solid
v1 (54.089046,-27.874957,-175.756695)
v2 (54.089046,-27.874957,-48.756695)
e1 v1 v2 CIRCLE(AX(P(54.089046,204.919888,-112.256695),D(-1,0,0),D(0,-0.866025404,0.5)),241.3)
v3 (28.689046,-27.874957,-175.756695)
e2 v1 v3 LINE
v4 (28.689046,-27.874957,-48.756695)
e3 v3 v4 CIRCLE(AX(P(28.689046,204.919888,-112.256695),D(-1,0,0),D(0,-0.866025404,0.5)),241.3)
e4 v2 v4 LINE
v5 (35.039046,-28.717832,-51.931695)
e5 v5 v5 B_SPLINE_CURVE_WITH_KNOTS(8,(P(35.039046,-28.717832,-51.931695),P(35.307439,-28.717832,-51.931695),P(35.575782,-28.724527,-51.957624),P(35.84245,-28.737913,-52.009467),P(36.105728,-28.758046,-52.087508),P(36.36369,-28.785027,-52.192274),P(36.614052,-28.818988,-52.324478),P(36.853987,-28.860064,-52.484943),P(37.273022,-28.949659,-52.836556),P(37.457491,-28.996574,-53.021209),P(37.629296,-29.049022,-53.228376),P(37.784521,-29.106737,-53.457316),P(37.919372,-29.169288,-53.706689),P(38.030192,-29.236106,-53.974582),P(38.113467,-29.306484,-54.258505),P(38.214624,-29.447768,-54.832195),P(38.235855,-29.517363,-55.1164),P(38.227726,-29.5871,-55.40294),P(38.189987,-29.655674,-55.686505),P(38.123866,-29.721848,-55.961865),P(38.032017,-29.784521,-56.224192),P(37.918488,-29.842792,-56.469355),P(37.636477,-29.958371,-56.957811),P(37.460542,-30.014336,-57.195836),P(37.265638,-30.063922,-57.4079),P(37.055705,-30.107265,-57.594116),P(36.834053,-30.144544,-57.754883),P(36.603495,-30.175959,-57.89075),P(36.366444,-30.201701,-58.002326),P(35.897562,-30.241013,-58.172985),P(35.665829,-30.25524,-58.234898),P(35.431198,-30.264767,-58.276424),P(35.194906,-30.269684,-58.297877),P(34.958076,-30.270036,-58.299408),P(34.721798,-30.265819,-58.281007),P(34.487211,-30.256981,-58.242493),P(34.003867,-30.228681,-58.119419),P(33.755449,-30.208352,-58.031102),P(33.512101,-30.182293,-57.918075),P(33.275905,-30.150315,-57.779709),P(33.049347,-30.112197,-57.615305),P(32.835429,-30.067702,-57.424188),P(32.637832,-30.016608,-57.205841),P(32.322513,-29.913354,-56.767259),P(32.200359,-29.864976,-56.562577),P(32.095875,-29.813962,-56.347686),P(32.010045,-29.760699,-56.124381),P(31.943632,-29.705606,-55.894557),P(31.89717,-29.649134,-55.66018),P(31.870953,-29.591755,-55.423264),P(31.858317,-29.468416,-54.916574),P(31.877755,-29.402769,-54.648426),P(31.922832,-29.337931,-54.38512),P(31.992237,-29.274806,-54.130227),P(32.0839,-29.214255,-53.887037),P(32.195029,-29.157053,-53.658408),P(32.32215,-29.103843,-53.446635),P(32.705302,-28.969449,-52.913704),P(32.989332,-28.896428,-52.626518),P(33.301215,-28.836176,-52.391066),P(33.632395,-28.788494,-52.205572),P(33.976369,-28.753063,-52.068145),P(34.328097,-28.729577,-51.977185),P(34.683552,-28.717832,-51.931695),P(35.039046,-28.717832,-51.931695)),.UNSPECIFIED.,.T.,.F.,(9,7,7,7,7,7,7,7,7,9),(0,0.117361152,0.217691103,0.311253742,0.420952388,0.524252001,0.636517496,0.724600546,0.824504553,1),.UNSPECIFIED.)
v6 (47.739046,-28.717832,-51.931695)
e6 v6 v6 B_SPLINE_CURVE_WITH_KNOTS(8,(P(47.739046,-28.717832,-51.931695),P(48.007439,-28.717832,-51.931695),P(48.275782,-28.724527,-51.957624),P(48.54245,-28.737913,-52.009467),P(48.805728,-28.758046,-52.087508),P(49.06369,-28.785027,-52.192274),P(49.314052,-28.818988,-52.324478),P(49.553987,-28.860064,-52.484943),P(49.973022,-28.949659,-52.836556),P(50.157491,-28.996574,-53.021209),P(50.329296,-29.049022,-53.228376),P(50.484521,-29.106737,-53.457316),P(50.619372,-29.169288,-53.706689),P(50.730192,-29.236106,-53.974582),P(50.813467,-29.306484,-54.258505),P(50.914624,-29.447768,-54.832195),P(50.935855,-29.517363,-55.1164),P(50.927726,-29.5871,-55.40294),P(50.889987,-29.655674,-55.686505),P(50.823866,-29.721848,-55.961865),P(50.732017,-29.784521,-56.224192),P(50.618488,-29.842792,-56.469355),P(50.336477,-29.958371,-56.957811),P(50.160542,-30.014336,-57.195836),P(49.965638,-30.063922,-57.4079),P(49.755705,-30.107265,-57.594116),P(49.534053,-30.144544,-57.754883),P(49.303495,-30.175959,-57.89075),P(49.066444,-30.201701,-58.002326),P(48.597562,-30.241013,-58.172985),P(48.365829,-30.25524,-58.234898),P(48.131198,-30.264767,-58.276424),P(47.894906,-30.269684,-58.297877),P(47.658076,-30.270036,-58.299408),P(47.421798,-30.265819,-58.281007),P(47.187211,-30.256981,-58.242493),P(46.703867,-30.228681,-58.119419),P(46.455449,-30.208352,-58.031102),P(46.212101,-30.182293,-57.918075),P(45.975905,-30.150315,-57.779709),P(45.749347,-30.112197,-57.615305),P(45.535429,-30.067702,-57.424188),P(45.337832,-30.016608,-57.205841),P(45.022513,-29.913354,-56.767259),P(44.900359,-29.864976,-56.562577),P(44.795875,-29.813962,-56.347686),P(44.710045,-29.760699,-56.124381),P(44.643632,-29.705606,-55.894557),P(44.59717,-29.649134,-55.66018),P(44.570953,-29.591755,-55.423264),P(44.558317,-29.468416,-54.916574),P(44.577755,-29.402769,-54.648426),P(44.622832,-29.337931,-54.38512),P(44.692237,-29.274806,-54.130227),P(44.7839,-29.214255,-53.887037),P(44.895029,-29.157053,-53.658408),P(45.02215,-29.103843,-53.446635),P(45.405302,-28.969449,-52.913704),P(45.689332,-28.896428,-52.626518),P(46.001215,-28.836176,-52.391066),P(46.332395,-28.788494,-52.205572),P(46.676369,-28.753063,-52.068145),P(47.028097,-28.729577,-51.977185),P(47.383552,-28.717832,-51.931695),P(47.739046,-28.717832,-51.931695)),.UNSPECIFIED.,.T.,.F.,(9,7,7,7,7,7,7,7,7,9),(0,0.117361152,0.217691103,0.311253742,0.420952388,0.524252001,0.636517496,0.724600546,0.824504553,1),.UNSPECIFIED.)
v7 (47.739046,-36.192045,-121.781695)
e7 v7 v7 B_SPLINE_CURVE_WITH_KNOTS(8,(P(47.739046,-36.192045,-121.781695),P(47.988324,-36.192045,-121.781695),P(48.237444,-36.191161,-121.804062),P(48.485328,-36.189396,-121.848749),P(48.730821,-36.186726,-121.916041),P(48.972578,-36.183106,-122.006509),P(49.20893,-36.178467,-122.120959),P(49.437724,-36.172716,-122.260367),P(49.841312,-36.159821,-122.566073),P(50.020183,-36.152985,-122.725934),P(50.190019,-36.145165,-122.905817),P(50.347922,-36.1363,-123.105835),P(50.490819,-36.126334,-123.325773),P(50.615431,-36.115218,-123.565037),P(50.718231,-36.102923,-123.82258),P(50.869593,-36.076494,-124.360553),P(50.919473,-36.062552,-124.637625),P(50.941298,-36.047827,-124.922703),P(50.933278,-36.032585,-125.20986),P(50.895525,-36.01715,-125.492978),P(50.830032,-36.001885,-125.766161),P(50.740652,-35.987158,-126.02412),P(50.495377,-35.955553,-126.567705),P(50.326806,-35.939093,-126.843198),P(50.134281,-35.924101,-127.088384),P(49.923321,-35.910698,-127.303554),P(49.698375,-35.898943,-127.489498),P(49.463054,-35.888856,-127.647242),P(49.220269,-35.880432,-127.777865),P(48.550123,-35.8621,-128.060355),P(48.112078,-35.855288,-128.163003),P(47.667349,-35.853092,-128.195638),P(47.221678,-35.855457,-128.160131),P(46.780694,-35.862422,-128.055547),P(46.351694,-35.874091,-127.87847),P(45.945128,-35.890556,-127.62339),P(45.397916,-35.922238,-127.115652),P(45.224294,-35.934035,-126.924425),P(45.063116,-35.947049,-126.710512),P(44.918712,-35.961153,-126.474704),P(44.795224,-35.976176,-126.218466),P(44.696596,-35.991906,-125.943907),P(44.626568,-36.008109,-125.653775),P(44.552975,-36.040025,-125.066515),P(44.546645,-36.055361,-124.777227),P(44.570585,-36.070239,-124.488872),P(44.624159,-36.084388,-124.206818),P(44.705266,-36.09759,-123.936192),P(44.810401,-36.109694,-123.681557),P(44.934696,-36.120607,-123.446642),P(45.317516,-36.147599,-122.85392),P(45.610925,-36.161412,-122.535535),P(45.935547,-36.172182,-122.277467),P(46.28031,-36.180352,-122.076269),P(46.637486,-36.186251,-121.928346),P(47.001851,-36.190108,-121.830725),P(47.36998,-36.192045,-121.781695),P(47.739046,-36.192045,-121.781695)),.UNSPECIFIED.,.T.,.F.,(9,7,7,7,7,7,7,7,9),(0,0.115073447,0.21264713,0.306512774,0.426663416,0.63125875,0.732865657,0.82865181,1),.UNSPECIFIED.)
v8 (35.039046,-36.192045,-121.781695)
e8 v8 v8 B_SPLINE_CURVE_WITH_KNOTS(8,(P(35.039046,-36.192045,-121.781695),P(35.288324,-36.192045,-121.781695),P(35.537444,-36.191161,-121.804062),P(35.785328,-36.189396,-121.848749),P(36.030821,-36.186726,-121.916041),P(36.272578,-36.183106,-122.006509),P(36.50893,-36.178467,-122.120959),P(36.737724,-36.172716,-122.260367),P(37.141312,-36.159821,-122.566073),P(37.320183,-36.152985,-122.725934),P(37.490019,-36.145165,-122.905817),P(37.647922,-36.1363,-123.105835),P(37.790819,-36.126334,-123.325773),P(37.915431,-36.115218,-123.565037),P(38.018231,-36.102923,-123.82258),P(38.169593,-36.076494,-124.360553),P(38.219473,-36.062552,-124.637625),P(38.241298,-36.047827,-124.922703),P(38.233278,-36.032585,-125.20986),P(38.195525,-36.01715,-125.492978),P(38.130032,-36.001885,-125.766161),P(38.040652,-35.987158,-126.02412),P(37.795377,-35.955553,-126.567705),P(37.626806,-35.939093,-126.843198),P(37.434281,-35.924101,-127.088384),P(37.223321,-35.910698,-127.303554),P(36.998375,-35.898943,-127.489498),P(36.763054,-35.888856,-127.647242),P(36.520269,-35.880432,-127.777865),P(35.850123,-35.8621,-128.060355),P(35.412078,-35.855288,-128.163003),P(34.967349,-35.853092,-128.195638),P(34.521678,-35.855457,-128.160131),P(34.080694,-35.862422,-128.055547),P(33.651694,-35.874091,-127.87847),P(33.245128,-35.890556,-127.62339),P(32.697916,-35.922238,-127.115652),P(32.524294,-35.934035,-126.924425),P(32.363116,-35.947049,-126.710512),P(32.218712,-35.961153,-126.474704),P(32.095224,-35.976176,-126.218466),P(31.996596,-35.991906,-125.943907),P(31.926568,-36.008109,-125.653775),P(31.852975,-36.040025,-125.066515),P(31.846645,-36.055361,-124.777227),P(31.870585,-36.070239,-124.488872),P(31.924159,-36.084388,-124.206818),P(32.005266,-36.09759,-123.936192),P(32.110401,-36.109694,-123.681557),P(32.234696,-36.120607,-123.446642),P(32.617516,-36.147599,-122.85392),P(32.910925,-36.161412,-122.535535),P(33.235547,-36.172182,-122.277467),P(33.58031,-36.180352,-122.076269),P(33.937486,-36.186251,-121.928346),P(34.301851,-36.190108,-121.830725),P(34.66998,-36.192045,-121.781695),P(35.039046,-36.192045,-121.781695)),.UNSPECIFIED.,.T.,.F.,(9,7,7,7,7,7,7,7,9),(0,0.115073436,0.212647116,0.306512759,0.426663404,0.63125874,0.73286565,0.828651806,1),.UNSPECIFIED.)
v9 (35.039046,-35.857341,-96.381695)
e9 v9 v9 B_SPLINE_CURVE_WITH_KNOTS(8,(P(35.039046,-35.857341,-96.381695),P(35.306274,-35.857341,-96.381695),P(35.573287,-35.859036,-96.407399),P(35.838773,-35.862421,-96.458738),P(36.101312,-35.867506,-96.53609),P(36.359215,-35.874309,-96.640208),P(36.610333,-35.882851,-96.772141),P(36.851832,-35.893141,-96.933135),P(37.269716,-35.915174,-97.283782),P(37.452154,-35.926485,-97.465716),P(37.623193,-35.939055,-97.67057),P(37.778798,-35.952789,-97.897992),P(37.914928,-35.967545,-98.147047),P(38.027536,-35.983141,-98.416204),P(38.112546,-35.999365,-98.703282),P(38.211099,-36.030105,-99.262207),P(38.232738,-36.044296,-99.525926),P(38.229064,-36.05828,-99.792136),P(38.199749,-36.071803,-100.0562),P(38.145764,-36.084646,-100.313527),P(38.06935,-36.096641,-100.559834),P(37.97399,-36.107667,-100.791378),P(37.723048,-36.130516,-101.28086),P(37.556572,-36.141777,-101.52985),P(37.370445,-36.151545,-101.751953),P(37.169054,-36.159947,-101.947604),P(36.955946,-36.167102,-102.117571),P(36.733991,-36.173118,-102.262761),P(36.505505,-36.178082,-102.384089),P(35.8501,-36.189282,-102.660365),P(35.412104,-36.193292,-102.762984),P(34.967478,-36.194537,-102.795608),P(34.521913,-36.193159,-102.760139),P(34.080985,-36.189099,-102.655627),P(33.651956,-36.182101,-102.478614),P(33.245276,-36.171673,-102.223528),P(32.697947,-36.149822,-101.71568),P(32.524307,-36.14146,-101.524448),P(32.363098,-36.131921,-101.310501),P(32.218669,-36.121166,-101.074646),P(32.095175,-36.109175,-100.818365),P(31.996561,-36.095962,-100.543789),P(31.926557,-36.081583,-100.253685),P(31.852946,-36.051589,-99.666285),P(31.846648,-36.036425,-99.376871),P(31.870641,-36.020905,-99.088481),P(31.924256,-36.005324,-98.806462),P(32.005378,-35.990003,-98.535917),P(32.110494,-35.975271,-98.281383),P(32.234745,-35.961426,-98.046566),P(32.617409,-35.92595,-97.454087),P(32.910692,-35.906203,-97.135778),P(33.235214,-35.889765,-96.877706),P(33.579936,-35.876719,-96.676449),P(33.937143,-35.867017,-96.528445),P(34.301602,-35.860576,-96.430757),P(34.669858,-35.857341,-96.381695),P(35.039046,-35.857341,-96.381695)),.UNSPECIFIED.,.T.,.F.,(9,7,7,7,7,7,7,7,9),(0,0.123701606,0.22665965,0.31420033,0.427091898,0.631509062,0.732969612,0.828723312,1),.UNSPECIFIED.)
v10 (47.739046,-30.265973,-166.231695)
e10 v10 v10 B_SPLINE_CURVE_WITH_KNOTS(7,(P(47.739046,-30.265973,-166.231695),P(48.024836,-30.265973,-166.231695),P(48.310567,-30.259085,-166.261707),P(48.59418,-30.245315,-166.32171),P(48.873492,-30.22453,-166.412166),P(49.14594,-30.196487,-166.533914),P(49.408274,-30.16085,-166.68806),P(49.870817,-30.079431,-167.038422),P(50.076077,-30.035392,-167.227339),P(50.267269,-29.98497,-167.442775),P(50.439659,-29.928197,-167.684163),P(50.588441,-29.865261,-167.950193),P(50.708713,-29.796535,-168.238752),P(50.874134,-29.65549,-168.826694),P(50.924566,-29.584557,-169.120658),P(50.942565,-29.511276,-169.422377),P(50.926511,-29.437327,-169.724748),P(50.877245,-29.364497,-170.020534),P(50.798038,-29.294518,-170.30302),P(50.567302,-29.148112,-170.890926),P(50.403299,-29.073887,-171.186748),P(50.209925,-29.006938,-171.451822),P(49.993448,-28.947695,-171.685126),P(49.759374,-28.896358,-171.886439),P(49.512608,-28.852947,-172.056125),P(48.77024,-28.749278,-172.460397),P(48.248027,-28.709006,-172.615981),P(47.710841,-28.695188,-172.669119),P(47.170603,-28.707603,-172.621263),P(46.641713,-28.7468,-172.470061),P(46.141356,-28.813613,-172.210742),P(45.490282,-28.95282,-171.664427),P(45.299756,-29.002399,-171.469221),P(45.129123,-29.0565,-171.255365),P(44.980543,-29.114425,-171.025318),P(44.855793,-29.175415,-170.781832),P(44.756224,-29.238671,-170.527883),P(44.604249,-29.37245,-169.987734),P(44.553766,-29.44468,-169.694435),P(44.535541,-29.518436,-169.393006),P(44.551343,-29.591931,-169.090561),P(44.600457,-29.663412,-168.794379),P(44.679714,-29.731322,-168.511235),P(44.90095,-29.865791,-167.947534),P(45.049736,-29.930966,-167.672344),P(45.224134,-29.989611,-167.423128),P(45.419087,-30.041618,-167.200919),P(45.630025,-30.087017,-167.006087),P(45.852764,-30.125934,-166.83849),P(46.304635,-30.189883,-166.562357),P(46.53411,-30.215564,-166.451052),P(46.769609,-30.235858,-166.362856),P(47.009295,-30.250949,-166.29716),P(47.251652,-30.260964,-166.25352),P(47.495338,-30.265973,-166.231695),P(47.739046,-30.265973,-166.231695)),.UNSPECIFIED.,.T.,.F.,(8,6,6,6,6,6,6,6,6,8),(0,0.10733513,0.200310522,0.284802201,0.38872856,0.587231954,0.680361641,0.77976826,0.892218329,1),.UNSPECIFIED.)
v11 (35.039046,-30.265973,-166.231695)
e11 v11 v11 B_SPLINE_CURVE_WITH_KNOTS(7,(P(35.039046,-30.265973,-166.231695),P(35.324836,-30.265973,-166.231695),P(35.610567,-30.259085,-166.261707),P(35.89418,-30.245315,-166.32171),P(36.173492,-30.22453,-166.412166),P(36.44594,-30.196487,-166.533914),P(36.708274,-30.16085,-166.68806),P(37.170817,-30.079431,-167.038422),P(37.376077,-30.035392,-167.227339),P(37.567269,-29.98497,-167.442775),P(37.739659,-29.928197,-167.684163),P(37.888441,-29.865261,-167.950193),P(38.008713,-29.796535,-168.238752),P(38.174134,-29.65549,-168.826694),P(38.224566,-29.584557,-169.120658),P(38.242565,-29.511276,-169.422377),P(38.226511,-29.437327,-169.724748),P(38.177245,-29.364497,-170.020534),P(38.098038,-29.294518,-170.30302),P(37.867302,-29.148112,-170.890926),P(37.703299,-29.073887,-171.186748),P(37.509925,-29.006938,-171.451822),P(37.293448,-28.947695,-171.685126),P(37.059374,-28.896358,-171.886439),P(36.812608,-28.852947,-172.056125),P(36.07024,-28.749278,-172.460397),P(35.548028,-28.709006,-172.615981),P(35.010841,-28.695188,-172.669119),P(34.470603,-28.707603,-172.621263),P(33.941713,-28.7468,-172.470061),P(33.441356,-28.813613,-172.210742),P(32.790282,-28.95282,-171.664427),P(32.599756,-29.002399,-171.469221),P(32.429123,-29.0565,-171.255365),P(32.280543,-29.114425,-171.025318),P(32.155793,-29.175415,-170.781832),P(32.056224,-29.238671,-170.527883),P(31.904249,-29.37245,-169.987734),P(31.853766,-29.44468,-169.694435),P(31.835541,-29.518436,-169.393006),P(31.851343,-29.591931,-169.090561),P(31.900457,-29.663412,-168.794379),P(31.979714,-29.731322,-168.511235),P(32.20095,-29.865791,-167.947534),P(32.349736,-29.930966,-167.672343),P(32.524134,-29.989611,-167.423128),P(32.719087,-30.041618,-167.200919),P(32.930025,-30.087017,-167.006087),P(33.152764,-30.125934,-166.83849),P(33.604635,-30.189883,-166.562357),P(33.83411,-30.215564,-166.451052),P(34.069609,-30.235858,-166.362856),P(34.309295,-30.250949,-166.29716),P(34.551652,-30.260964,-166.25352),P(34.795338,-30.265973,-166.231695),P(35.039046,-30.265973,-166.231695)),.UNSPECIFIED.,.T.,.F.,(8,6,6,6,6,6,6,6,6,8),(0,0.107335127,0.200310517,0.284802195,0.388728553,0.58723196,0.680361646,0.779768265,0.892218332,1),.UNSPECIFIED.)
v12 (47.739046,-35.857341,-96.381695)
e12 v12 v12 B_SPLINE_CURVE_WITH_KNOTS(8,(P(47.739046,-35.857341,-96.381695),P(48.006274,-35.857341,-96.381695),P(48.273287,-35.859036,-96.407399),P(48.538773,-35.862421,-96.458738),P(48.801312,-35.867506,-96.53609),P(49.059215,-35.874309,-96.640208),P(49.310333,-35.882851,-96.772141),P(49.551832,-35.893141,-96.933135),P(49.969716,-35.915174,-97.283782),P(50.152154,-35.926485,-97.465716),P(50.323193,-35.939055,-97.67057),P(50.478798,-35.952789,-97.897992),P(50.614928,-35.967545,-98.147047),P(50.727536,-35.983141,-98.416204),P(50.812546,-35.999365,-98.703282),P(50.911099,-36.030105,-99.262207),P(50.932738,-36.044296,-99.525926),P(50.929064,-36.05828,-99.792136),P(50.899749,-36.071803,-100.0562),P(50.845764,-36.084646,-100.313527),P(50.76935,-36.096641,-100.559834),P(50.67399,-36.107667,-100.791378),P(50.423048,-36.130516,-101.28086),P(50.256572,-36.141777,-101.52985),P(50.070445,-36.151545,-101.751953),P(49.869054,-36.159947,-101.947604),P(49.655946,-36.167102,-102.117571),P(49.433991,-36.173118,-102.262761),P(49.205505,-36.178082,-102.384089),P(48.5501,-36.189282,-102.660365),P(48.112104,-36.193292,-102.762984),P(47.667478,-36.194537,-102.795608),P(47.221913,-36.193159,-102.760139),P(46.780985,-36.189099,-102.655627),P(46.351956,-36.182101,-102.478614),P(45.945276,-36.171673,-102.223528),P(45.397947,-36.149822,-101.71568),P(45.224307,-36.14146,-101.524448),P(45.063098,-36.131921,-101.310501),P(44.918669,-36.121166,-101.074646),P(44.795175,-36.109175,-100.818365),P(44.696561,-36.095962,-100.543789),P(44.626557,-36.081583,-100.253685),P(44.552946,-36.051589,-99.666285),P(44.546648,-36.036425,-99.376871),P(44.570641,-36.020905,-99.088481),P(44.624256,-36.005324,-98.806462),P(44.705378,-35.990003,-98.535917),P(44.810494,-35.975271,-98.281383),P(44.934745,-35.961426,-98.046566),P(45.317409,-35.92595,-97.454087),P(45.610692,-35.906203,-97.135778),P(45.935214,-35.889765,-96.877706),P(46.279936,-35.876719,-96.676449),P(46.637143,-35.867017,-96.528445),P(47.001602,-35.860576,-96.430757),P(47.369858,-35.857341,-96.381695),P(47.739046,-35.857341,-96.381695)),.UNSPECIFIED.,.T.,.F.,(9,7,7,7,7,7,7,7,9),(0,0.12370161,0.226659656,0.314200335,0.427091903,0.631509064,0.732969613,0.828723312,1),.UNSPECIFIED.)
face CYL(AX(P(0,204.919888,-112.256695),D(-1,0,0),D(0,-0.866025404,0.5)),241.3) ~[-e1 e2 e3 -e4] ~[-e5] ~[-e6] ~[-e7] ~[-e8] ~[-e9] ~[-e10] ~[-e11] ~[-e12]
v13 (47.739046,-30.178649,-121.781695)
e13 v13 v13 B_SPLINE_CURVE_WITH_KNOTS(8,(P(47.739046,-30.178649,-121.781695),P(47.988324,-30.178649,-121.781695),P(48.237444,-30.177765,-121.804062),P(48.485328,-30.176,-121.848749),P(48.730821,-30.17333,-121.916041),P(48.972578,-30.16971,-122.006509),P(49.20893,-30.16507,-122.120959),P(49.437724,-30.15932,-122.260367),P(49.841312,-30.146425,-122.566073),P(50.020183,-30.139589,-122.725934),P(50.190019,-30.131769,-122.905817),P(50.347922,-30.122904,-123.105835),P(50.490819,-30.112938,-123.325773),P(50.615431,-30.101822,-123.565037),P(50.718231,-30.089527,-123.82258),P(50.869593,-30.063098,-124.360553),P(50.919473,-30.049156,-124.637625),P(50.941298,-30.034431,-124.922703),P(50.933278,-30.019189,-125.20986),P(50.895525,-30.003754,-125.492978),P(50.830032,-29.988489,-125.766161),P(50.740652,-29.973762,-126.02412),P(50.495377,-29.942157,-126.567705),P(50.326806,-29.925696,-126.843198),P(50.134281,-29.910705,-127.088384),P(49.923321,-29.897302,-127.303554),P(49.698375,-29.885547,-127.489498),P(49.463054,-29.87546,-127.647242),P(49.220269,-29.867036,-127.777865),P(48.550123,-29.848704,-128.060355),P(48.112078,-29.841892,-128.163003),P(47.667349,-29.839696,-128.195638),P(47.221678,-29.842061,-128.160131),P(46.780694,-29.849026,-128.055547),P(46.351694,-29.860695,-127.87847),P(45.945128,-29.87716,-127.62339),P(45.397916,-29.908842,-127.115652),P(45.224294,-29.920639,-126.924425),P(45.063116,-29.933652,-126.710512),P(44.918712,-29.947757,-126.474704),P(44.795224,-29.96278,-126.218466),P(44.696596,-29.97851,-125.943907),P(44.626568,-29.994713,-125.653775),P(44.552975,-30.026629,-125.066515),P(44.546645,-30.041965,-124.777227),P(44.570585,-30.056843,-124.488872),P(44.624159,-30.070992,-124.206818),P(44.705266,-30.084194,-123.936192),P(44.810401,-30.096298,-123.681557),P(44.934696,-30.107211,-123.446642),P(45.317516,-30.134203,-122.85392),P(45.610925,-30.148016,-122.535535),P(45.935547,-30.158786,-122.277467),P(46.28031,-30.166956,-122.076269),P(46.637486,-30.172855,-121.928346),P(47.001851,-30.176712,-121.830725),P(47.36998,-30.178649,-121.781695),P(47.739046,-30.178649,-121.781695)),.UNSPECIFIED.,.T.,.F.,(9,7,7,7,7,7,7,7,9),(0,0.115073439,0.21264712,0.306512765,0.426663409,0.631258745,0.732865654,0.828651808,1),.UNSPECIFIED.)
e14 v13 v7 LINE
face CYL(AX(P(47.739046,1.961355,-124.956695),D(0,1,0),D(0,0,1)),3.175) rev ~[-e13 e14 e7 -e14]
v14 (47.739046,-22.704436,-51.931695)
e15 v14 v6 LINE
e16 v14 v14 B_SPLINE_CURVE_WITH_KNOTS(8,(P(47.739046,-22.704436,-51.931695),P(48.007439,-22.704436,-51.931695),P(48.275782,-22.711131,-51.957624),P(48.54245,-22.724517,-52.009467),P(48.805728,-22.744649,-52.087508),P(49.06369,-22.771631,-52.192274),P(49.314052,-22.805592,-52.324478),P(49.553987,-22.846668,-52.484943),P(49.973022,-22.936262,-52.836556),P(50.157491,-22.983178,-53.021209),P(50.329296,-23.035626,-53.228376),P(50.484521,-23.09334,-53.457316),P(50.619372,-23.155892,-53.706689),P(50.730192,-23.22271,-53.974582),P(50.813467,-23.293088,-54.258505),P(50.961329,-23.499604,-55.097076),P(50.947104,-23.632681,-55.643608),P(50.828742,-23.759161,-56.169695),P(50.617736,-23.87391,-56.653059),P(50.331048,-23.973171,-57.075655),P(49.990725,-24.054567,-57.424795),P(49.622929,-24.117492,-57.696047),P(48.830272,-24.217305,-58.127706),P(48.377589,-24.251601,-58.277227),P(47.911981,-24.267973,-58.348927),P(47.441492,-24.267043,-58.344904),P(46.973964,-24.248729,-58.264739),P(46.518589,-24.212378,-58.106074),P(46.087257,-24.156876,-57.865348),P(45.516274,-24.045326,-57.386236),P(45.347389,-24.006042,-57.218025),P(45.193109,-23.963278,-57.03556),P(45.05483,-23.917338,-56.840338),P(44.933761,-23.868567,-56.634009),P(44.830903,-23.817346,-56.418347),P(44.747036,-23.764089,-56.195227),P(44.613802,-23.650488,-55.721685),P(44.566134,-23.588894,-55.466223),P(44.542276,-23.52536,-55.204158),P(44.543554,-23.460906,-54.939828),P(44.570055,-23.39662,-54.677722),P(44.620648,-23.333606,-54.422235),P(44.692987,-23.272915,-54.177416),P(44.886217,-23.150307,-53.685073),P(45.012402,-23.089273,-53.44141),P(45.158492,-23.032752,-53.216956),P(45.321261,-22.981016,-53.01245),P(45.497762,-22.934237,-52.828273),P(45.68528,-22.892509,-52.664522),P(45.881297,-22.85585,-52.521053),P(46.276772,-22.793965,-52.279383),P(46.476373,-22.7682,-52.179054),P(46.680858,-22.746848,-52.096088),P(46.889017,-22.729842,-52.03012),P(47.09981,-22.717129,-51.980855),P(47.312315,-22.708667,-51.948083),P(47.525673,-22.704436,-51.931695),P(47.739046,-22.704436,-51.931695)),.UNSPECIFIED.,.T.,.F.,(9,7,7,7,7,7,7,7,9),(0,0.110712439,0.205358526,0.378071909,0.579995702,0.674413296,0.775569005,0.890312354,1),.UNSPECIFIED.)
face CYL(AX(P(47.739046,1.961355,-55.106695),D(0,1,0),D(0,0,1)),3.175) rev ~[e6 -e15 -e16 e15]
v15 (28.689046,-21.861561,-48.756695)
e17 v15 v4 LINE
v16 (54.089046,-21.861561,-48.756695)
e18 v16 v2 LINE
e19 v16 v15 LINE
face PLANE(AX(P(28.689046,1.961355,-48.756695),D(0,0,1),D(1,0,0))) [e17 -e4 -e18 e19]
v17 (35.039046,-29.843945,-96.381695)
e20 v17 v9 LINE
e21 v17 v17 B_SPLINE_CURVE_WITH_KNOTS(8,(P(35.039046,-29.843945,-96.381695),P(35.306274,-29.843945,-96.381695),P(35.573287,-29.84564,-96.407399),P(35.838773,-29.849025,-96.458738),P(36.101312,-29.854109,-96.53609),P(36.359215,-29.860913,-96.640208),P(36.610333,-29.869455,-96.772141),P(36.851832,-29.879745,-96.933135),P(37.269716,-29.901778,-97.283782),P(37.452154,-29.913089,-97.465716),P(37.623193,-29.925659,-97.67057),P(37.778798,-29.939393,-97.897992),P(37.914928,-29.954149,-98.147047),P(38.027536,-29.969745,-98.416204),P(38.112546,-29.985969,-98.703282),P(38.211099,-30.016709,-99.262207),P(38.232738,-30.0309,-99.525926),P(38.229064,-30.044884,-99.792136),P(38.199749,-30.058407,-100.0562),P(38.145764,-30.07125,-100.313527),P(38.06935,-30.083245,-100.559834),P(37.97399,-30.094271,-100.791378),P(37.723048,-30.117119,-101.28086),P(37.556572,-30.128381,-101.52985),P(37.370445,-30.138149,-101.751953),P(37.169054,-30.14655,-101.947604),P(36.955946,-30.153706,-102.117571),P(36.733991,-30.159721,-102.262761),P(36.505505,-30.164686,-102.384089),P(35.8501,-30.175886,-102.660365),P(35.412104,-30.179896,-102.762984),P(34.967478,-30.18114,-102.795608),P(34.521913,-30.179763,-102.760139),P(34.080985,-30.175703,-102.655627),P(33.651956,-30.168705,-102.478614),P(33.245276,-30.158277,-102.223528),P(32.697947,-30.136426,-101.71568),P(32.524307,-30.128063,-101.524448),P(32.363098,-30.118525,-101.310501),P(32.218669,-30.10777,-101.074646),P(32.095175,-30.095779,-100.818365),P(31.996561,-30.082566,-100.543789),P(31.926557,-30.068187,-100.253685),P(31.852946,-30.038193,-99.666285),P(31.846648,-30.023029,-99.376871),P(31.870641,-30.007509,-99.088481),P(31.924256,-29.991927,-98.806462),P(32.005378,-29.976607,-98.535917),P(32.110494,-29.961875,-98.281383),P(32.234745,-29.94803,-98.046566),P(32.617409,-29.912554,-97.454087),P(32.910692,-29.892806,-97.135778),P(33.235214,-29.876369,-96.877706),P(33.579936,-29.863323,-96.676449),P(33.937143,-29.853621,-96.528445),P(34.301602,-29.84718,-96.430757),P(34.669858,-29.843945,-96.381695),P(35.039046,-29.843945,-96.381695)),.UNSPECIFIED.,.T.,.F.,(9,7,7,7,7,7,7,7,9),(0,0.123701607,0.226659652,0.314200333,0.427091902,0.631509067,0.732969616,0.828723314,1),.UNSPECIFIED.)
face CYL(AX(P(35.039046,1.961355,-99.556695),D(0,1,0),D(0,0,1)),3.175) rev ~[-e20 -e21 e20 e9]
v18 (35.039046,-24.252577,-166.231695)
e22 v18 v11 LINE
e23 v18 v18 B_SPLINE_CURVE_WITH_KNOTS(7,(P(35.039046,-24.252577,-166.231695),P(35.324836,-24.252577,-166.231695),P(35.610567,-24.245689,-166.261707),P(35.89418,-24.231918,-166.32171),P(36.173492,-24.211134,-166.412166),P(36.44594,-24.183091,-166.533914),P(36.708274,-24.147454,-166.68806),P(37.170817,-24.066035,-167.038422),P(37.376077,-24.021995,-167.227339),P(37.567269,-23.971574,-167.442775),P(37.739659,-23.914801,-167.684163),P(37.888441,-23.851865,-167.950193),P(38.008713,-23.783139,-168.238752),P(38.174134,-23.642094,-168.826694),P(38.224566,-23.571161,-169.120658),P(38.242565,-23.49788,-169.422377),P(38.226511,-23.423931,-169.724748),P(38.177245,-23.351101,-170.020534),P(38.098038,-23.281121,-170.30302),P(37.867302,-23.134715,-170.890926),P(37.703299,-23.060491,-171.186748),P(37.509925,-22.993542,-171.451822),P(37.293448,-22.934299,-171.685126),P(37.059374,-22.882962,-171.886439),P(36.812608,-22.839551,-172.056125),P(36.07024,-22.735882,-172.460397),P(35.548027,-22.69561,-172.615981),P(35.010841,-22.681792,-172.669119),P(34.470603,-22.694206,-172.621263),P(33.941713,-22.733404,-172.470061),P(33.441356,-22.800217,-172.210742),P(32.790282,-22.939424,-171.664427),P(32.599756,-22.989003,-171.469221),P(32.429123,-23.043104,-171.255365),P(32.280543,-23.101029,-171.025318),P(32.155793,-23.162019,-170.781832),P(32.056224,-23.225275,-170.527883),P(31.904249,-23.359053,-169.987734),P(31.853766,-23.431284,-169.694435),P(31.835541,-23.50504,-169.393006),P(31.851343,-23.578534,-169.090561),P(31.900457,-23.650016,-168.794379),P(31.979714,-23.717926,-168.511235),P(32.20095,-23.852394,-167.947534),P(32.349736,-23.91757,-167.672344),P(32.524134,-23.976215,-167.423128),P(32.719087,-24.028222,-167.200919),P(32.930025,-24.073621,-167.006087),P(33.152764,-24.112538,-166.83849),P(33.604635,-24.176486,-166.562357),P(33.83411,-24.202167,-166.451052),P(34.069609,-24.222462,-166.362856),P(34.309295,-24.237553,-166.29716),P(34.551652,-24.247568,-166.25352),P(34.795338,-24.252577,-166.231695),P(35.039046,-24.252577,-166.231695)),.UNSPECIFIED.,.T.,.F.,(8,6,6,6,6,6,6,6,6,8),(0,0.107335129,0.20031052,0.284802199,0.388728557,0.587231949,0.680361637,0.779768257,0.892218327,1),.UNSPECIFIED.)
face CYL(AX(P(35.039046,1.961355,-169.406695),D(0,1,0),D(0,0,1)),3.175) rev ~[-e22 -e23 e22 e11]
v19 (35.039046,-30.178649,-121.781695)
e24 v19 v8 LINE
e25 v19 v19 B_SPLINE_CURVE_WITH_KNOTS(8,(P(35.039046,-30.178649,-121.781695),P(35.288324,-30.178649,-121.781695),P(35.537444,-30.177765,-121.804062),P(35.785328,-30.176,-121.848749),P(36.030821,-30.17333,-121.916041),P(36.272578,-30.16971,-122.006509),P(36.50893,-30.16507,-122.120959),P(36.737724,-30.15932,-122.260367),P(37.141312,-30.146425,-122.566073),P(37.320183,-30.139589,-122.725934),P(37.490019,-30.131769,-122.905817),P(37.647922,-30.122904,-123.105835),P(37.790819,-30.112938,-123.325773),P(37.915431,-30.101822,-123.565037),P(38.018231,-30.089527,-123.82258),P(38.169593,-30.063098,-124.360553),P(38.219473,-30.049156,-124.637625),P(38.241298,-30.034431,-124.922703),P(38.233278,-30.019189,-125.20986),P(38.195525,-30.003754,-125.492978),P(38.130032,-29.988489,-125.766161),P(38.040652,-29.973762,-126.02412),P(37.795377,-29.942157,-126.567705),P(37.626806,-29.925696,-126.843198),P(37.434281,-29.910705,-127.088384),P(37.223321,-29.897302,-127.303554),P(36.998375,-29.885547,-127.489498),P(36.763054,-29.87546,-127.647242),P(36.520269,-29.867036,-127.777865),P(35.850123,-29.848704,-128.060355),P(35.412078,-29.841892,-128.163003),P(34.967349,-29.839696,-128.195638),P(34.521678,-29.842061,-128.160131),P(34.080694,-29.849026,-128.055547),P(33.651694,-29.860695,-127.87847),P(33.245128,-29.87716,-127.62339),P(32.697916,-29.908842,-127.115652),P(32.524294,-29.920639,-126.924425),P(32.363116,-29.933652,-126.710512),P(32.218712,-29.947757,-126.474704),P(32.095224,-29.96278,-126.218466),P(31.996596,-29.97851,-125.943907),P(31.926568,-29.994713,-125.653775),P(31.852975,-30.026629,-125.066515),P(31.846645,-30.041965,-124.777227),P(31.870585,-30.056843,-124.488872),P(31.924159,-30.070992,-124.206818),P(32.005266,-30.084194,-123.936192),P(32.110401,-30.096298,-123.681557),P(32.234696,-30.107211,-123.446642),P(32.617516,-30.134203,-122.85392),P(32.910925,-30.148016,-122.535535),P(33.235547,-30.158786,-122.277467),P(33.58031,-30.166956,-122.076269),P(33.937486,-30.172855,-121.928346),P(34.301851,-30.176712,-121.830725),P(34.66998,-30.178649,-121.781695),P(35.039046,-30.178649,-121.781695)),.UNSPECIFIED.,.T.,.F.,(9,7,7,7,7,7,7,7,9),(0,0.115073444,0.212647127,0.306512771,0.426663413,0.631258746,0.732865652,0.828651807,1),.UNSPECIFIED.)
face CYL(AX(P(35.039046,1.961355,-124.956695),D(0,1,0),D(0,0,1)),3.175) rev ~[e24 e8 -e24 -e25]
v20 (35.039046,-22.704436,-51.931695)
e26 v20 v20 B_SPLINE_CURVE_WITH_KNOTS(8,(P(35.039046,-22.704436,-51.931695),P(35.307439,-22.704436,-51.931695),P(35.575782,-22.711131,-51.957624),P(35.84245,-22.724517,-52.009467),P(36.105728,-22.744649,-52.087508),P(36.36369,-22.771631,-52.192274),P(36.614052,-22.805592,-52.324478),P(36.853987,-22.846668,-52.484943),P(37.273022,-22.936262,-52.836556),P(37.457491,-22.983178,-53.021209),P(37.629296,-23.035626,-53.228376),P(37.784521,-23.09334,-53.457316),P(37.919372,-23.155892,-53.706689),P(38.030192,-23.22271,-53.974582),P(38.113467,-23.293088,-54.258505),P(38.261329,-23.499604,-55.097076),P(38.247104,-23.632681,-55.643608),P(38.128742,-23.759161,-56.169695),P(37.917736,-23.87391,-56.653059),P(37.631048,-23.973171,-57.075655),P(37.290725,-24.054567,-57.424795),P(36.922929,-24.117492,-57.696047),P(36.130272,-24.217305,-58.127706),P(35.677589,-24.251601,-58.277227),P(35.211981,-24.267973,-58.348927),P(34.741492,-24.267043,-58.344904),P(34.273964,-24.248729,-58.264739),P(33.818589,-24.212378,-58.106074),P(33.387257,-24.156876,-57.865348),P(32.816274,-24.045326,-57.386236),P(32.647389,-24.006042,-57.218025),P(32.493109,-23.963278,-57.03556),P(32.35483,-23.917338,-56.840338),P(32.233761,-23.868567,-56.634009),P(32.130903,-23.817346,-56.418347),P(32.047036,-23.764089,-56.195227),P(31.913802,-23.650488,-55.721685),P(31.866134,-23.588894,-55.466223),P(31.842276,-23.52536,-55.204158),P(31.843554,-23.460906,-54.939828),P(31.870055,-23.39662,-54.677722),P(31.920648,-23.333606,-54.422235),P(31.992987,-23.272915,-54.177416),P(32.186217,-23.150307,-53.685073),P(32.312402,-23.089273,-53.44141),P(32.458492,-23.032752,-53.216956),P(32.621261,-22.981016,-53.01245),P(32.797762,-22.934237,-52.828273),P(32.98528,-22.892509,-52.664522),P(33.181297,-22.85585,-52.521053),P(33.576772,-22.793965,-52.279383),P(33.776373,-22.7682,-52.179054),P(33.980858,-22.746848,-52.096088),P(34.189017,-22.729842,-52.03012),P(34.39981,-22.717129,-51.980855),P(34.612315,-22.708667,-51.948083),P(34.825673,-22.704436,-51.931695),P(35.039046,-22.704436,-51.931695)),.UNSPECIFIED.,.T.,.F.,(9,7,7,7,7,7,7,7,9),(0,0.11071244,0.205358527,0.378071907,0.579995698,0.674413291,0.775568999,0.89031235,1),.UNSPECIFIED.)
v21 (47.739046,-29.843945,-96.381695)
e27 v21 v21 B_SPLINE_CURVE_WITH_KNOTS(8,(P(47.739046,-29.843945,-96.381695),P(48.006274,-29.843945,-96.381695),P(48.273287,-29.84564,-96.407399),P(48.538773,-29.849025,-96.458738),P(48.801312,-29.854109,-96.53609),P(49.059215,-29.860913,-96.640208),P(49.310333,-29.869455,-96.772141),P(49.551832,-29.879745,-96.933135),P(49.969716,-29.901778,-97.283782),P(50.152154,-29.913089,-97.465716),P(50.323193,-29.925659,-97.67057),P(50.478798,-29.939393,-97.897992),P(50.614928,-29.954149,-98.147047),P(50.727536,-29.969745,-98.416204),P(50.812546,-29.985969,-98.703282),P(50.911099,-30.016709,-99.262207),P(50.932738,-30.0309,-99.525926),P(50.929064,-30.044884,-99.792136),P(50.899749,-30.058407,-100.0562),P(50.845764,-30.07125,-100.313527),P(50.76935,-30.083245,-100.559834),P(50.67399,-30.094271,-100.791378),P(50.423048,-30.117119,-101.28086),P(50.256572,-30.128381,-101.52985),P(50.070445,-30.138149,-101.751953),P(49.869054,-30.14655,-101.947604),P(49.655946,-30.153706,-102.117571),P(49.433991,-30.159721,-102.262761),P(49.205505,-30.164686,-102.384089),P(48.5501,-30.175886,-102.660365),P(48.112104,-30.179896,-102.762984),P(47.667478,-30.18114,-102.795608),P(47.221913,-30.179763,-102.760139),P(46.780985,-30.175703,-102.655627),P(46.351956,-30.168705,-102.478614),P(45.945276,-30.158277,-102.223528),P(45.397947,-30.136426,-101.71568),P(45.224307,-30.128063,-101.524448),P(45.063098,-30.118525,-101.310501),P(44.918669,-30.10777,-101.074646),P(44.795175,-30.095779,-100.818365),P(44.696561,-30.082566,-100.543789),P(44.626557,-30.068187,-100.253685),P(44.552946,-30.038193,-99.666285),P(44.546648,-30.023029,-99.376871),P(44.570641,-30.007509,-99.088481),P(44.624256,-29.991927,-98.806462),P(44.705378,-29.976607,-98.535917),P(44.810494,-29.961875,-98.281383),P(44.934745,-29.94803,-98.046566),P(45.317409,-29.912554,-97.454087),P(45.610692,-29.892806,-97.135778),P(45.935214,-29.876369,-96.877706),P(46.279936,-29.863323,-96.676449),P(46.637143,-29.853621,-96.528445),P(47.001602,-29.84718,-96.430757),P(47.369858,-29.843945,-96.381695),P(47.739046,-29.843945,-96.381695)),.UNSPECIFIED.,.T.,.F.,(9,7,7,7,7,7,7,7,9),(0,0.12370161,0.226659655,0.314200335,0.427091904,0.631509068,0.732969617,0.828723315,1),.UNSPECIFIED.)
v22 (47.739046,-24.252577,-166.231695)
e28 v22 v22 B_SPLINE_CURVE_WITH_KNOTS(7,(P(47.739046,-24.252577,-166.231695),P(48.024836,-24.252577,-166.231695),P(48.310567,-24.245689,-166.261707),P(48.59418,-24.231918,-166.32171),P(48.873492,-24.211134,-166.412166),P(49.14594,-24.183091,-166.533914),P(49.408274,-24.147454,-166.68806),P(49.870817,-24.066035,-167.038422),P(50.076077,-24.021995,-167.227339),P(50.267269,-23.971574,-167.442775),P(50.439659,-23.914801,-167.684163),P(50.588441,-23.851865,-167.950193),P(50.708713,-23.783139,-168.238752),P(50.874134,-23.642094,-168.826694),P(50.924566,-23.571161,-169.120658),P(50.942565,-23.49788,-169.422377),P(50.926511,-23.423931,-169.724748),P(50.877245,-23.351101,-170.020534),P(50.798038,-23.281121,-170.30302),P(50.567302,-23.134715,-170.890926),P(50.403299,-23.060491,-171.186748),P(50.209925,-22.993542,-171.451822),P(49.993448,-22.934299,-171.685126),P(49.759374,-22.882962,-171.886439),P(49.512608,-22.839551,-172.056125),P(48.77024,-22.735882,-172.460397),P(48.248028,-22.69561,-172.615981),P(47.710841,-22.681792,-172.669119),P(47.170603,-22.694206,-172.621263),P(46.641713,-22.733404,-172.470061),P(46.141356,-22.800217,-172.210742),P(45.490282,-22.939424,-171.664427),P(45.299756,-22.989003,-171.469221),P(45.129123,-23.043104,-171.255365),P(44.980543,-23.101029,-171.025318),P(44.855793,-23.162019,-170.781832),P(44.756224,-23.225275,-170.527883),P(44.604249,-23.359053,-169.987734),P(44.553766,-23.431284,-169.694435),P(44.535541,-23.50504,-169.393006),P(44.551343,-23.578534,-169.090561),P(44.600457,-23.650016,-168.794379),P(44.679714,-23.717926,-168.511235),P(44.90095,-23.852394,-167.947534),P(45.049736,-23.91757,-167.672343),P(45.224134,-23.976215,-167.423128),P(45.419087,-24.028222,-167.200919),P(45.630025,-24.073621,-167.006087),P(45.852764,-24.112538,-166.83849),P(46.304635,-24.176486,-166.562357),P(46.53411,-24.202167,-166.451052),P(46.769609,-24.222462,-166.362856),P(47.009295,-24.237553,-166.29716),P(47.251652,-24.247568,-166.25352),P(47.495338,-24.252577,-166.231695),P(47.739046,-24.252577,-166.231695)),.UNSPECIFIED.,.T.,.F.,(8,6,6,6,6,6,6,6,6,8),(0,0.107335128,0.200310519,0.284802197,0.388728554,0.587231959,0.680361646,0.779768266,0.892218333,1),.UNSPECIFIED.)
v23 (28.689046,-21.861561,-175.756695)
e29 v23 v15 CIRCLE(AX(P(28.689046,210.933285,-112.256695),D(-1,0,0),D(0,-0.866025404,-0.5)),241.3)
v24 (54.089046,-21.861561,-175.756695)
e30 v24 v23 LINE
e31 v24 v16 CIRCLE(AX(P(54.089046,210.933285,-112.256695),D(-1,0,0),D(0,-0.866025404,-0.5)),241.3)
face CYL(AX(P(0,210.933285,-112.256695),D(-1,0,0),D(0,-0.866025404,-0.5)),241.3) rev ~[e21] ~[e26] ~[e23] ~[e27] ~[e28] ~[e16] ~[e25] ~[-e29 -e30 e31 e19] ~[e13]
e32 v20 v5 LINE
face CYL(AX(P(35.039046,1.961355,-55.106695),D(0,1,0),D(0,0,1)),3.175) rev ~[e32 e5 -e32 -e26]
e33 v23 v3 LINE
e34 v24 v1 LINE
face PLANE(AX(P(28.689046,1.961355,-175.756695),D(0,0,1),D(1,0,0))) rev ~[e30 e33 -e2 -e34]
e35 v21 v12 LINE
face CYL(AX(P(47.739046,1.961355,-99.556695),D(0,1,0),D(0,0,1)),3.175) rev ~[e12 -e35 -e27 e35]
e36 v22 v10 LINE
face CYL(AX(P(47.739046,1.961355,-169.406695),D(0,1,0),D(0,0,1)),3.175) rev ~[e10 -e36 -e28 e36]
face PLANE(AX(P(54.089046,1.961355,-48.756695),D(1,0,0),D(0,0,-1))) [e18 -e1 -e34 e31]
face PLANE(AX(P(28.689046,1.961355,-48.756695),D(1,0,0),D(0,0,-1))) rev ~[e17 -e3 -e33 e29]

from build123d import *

# Parameters (mm, degrees)
BOSS_EXTRUDE4_DEPTH = 304.8
SKETCH4_OUTSIDE_W   = 384.928
SKETCH4_OUTSIDE_H   = 321.428
SKETCH4_OUTSIDE_W_2 = 25.4
SKETCH4_OUTSIDE_H_2 = 127
CUT_EXTRUDE2_DEPTH  = 150
SKETCH6_R           = 3.175
CUT_EXTRUDE4_DEPTH  = 150
SKETCH5_R           = 3.175
CUT_EXTRUDE5_DEPTH  = 150


with BuildPart() as part:
    # Sketch3 → Boss-Extrude4 (new body)
    with BuildSketch(Plane(origin=(0, 0, 0), x_dir=(0, 0, -1), z_dir=(1, 0, 0))):
        with BuildLine():
            ThreePointArc((232.90669496, 1.961354585), (112.25669496, -30.366715482), (-8.39330504, 1.961354585))
            Line((-8.39330504, 1.961354585), (-8.39330504, -4.052041589))
            ThreePointArc((-8.39330504, -4.052041589), (112.25669496, -36.380111656), (232.90669496, -4.052041589))
            Line((232.90669496, -4.052041589), (232.90669496, 1.961354585))
        make_face()
    extrude(amount=BOSS_EXTRUDE4_DEPTH)

    # Sketch4 outside → Cut-Extrude2 (cut)
    with BuildSketch(Plane(origin=(0, 1.961354585, 0), x_dir=(1, 0, 0), z_dir=(0, 1, 0))):
        with Locations((152.4, 112.257)):
            Rectangle(SKETCH4_OUTSIDE_W, SKETCH4_OUTSIDE_H)
        with Locations((41.389045768, 112.25669496)):
            Rectangle(SKETCH4_OUTSIDE_W_2, SKETCH4_OUTSIDE_H_2, mode=Mode.SUBTRACT)
    extrude(amount=-CUT_EXTRUDE2_DEPTH, mode=Mode.SUBTRACT)

    # Sketch6 → Cut-Extrude4 (cut)
    with BuildSketch(Plane(origin=(0, 1.961354585, 0), x_dir=(1, 0, 0), z_dir=(0, 1, 0))):
        with Locations(Location((35.039045768, 124.95669496, 0), (0, 0, 270))):
            Circle(SKETCH6_R)
        with Locations(Location((47.739045768, 124.95669496, 0), (0, 0, 270))):
            Circle(SKETCH6_R)
        with Locations(Location((35.039045768, 99.55669496, 0), (0, 0, 270))):
            Circle(SKETCH6_R)
        with Locations(Location((47.739045768, 99.55669496, 0), (0, 0, 270))):
            Circle(SKETCH6_R)
    extrude(amount=-CUT_EXTRUDE4_DEPTH, mode=Mode.SUBTRACT)

    # Sketch5 → Cut-Extrude5 (cut)
    with BuildSketch(Plane(origin=(0, 1.961354585, 0), x_dir=(1, 0, 0), z_dir=(0, 1, 0))):
        with Locations(Location((47.739045768, 169.40669496, 0), (0, 0, 270))):
            Circle(SKETCH5_R)
        with Locations(Location((35.039045768, 169.40669496, 0), (0, 0, 270))):
            Circle(SKETCH5_R)
        with Locations(Location((35.039045768, 55.10669496, 0), (0, 0, 270))):
            Circle(SKETCH5_R)
        with Locations(Location((47.739045768, 55.10669496, 0), (0, 0, 270))):
            Circle(SKETCH5_R)
    extrude(amount=-CUT_EXTRUDE5_DEPTH, mode=Mode.SUBTRACT)


solid = part.part
